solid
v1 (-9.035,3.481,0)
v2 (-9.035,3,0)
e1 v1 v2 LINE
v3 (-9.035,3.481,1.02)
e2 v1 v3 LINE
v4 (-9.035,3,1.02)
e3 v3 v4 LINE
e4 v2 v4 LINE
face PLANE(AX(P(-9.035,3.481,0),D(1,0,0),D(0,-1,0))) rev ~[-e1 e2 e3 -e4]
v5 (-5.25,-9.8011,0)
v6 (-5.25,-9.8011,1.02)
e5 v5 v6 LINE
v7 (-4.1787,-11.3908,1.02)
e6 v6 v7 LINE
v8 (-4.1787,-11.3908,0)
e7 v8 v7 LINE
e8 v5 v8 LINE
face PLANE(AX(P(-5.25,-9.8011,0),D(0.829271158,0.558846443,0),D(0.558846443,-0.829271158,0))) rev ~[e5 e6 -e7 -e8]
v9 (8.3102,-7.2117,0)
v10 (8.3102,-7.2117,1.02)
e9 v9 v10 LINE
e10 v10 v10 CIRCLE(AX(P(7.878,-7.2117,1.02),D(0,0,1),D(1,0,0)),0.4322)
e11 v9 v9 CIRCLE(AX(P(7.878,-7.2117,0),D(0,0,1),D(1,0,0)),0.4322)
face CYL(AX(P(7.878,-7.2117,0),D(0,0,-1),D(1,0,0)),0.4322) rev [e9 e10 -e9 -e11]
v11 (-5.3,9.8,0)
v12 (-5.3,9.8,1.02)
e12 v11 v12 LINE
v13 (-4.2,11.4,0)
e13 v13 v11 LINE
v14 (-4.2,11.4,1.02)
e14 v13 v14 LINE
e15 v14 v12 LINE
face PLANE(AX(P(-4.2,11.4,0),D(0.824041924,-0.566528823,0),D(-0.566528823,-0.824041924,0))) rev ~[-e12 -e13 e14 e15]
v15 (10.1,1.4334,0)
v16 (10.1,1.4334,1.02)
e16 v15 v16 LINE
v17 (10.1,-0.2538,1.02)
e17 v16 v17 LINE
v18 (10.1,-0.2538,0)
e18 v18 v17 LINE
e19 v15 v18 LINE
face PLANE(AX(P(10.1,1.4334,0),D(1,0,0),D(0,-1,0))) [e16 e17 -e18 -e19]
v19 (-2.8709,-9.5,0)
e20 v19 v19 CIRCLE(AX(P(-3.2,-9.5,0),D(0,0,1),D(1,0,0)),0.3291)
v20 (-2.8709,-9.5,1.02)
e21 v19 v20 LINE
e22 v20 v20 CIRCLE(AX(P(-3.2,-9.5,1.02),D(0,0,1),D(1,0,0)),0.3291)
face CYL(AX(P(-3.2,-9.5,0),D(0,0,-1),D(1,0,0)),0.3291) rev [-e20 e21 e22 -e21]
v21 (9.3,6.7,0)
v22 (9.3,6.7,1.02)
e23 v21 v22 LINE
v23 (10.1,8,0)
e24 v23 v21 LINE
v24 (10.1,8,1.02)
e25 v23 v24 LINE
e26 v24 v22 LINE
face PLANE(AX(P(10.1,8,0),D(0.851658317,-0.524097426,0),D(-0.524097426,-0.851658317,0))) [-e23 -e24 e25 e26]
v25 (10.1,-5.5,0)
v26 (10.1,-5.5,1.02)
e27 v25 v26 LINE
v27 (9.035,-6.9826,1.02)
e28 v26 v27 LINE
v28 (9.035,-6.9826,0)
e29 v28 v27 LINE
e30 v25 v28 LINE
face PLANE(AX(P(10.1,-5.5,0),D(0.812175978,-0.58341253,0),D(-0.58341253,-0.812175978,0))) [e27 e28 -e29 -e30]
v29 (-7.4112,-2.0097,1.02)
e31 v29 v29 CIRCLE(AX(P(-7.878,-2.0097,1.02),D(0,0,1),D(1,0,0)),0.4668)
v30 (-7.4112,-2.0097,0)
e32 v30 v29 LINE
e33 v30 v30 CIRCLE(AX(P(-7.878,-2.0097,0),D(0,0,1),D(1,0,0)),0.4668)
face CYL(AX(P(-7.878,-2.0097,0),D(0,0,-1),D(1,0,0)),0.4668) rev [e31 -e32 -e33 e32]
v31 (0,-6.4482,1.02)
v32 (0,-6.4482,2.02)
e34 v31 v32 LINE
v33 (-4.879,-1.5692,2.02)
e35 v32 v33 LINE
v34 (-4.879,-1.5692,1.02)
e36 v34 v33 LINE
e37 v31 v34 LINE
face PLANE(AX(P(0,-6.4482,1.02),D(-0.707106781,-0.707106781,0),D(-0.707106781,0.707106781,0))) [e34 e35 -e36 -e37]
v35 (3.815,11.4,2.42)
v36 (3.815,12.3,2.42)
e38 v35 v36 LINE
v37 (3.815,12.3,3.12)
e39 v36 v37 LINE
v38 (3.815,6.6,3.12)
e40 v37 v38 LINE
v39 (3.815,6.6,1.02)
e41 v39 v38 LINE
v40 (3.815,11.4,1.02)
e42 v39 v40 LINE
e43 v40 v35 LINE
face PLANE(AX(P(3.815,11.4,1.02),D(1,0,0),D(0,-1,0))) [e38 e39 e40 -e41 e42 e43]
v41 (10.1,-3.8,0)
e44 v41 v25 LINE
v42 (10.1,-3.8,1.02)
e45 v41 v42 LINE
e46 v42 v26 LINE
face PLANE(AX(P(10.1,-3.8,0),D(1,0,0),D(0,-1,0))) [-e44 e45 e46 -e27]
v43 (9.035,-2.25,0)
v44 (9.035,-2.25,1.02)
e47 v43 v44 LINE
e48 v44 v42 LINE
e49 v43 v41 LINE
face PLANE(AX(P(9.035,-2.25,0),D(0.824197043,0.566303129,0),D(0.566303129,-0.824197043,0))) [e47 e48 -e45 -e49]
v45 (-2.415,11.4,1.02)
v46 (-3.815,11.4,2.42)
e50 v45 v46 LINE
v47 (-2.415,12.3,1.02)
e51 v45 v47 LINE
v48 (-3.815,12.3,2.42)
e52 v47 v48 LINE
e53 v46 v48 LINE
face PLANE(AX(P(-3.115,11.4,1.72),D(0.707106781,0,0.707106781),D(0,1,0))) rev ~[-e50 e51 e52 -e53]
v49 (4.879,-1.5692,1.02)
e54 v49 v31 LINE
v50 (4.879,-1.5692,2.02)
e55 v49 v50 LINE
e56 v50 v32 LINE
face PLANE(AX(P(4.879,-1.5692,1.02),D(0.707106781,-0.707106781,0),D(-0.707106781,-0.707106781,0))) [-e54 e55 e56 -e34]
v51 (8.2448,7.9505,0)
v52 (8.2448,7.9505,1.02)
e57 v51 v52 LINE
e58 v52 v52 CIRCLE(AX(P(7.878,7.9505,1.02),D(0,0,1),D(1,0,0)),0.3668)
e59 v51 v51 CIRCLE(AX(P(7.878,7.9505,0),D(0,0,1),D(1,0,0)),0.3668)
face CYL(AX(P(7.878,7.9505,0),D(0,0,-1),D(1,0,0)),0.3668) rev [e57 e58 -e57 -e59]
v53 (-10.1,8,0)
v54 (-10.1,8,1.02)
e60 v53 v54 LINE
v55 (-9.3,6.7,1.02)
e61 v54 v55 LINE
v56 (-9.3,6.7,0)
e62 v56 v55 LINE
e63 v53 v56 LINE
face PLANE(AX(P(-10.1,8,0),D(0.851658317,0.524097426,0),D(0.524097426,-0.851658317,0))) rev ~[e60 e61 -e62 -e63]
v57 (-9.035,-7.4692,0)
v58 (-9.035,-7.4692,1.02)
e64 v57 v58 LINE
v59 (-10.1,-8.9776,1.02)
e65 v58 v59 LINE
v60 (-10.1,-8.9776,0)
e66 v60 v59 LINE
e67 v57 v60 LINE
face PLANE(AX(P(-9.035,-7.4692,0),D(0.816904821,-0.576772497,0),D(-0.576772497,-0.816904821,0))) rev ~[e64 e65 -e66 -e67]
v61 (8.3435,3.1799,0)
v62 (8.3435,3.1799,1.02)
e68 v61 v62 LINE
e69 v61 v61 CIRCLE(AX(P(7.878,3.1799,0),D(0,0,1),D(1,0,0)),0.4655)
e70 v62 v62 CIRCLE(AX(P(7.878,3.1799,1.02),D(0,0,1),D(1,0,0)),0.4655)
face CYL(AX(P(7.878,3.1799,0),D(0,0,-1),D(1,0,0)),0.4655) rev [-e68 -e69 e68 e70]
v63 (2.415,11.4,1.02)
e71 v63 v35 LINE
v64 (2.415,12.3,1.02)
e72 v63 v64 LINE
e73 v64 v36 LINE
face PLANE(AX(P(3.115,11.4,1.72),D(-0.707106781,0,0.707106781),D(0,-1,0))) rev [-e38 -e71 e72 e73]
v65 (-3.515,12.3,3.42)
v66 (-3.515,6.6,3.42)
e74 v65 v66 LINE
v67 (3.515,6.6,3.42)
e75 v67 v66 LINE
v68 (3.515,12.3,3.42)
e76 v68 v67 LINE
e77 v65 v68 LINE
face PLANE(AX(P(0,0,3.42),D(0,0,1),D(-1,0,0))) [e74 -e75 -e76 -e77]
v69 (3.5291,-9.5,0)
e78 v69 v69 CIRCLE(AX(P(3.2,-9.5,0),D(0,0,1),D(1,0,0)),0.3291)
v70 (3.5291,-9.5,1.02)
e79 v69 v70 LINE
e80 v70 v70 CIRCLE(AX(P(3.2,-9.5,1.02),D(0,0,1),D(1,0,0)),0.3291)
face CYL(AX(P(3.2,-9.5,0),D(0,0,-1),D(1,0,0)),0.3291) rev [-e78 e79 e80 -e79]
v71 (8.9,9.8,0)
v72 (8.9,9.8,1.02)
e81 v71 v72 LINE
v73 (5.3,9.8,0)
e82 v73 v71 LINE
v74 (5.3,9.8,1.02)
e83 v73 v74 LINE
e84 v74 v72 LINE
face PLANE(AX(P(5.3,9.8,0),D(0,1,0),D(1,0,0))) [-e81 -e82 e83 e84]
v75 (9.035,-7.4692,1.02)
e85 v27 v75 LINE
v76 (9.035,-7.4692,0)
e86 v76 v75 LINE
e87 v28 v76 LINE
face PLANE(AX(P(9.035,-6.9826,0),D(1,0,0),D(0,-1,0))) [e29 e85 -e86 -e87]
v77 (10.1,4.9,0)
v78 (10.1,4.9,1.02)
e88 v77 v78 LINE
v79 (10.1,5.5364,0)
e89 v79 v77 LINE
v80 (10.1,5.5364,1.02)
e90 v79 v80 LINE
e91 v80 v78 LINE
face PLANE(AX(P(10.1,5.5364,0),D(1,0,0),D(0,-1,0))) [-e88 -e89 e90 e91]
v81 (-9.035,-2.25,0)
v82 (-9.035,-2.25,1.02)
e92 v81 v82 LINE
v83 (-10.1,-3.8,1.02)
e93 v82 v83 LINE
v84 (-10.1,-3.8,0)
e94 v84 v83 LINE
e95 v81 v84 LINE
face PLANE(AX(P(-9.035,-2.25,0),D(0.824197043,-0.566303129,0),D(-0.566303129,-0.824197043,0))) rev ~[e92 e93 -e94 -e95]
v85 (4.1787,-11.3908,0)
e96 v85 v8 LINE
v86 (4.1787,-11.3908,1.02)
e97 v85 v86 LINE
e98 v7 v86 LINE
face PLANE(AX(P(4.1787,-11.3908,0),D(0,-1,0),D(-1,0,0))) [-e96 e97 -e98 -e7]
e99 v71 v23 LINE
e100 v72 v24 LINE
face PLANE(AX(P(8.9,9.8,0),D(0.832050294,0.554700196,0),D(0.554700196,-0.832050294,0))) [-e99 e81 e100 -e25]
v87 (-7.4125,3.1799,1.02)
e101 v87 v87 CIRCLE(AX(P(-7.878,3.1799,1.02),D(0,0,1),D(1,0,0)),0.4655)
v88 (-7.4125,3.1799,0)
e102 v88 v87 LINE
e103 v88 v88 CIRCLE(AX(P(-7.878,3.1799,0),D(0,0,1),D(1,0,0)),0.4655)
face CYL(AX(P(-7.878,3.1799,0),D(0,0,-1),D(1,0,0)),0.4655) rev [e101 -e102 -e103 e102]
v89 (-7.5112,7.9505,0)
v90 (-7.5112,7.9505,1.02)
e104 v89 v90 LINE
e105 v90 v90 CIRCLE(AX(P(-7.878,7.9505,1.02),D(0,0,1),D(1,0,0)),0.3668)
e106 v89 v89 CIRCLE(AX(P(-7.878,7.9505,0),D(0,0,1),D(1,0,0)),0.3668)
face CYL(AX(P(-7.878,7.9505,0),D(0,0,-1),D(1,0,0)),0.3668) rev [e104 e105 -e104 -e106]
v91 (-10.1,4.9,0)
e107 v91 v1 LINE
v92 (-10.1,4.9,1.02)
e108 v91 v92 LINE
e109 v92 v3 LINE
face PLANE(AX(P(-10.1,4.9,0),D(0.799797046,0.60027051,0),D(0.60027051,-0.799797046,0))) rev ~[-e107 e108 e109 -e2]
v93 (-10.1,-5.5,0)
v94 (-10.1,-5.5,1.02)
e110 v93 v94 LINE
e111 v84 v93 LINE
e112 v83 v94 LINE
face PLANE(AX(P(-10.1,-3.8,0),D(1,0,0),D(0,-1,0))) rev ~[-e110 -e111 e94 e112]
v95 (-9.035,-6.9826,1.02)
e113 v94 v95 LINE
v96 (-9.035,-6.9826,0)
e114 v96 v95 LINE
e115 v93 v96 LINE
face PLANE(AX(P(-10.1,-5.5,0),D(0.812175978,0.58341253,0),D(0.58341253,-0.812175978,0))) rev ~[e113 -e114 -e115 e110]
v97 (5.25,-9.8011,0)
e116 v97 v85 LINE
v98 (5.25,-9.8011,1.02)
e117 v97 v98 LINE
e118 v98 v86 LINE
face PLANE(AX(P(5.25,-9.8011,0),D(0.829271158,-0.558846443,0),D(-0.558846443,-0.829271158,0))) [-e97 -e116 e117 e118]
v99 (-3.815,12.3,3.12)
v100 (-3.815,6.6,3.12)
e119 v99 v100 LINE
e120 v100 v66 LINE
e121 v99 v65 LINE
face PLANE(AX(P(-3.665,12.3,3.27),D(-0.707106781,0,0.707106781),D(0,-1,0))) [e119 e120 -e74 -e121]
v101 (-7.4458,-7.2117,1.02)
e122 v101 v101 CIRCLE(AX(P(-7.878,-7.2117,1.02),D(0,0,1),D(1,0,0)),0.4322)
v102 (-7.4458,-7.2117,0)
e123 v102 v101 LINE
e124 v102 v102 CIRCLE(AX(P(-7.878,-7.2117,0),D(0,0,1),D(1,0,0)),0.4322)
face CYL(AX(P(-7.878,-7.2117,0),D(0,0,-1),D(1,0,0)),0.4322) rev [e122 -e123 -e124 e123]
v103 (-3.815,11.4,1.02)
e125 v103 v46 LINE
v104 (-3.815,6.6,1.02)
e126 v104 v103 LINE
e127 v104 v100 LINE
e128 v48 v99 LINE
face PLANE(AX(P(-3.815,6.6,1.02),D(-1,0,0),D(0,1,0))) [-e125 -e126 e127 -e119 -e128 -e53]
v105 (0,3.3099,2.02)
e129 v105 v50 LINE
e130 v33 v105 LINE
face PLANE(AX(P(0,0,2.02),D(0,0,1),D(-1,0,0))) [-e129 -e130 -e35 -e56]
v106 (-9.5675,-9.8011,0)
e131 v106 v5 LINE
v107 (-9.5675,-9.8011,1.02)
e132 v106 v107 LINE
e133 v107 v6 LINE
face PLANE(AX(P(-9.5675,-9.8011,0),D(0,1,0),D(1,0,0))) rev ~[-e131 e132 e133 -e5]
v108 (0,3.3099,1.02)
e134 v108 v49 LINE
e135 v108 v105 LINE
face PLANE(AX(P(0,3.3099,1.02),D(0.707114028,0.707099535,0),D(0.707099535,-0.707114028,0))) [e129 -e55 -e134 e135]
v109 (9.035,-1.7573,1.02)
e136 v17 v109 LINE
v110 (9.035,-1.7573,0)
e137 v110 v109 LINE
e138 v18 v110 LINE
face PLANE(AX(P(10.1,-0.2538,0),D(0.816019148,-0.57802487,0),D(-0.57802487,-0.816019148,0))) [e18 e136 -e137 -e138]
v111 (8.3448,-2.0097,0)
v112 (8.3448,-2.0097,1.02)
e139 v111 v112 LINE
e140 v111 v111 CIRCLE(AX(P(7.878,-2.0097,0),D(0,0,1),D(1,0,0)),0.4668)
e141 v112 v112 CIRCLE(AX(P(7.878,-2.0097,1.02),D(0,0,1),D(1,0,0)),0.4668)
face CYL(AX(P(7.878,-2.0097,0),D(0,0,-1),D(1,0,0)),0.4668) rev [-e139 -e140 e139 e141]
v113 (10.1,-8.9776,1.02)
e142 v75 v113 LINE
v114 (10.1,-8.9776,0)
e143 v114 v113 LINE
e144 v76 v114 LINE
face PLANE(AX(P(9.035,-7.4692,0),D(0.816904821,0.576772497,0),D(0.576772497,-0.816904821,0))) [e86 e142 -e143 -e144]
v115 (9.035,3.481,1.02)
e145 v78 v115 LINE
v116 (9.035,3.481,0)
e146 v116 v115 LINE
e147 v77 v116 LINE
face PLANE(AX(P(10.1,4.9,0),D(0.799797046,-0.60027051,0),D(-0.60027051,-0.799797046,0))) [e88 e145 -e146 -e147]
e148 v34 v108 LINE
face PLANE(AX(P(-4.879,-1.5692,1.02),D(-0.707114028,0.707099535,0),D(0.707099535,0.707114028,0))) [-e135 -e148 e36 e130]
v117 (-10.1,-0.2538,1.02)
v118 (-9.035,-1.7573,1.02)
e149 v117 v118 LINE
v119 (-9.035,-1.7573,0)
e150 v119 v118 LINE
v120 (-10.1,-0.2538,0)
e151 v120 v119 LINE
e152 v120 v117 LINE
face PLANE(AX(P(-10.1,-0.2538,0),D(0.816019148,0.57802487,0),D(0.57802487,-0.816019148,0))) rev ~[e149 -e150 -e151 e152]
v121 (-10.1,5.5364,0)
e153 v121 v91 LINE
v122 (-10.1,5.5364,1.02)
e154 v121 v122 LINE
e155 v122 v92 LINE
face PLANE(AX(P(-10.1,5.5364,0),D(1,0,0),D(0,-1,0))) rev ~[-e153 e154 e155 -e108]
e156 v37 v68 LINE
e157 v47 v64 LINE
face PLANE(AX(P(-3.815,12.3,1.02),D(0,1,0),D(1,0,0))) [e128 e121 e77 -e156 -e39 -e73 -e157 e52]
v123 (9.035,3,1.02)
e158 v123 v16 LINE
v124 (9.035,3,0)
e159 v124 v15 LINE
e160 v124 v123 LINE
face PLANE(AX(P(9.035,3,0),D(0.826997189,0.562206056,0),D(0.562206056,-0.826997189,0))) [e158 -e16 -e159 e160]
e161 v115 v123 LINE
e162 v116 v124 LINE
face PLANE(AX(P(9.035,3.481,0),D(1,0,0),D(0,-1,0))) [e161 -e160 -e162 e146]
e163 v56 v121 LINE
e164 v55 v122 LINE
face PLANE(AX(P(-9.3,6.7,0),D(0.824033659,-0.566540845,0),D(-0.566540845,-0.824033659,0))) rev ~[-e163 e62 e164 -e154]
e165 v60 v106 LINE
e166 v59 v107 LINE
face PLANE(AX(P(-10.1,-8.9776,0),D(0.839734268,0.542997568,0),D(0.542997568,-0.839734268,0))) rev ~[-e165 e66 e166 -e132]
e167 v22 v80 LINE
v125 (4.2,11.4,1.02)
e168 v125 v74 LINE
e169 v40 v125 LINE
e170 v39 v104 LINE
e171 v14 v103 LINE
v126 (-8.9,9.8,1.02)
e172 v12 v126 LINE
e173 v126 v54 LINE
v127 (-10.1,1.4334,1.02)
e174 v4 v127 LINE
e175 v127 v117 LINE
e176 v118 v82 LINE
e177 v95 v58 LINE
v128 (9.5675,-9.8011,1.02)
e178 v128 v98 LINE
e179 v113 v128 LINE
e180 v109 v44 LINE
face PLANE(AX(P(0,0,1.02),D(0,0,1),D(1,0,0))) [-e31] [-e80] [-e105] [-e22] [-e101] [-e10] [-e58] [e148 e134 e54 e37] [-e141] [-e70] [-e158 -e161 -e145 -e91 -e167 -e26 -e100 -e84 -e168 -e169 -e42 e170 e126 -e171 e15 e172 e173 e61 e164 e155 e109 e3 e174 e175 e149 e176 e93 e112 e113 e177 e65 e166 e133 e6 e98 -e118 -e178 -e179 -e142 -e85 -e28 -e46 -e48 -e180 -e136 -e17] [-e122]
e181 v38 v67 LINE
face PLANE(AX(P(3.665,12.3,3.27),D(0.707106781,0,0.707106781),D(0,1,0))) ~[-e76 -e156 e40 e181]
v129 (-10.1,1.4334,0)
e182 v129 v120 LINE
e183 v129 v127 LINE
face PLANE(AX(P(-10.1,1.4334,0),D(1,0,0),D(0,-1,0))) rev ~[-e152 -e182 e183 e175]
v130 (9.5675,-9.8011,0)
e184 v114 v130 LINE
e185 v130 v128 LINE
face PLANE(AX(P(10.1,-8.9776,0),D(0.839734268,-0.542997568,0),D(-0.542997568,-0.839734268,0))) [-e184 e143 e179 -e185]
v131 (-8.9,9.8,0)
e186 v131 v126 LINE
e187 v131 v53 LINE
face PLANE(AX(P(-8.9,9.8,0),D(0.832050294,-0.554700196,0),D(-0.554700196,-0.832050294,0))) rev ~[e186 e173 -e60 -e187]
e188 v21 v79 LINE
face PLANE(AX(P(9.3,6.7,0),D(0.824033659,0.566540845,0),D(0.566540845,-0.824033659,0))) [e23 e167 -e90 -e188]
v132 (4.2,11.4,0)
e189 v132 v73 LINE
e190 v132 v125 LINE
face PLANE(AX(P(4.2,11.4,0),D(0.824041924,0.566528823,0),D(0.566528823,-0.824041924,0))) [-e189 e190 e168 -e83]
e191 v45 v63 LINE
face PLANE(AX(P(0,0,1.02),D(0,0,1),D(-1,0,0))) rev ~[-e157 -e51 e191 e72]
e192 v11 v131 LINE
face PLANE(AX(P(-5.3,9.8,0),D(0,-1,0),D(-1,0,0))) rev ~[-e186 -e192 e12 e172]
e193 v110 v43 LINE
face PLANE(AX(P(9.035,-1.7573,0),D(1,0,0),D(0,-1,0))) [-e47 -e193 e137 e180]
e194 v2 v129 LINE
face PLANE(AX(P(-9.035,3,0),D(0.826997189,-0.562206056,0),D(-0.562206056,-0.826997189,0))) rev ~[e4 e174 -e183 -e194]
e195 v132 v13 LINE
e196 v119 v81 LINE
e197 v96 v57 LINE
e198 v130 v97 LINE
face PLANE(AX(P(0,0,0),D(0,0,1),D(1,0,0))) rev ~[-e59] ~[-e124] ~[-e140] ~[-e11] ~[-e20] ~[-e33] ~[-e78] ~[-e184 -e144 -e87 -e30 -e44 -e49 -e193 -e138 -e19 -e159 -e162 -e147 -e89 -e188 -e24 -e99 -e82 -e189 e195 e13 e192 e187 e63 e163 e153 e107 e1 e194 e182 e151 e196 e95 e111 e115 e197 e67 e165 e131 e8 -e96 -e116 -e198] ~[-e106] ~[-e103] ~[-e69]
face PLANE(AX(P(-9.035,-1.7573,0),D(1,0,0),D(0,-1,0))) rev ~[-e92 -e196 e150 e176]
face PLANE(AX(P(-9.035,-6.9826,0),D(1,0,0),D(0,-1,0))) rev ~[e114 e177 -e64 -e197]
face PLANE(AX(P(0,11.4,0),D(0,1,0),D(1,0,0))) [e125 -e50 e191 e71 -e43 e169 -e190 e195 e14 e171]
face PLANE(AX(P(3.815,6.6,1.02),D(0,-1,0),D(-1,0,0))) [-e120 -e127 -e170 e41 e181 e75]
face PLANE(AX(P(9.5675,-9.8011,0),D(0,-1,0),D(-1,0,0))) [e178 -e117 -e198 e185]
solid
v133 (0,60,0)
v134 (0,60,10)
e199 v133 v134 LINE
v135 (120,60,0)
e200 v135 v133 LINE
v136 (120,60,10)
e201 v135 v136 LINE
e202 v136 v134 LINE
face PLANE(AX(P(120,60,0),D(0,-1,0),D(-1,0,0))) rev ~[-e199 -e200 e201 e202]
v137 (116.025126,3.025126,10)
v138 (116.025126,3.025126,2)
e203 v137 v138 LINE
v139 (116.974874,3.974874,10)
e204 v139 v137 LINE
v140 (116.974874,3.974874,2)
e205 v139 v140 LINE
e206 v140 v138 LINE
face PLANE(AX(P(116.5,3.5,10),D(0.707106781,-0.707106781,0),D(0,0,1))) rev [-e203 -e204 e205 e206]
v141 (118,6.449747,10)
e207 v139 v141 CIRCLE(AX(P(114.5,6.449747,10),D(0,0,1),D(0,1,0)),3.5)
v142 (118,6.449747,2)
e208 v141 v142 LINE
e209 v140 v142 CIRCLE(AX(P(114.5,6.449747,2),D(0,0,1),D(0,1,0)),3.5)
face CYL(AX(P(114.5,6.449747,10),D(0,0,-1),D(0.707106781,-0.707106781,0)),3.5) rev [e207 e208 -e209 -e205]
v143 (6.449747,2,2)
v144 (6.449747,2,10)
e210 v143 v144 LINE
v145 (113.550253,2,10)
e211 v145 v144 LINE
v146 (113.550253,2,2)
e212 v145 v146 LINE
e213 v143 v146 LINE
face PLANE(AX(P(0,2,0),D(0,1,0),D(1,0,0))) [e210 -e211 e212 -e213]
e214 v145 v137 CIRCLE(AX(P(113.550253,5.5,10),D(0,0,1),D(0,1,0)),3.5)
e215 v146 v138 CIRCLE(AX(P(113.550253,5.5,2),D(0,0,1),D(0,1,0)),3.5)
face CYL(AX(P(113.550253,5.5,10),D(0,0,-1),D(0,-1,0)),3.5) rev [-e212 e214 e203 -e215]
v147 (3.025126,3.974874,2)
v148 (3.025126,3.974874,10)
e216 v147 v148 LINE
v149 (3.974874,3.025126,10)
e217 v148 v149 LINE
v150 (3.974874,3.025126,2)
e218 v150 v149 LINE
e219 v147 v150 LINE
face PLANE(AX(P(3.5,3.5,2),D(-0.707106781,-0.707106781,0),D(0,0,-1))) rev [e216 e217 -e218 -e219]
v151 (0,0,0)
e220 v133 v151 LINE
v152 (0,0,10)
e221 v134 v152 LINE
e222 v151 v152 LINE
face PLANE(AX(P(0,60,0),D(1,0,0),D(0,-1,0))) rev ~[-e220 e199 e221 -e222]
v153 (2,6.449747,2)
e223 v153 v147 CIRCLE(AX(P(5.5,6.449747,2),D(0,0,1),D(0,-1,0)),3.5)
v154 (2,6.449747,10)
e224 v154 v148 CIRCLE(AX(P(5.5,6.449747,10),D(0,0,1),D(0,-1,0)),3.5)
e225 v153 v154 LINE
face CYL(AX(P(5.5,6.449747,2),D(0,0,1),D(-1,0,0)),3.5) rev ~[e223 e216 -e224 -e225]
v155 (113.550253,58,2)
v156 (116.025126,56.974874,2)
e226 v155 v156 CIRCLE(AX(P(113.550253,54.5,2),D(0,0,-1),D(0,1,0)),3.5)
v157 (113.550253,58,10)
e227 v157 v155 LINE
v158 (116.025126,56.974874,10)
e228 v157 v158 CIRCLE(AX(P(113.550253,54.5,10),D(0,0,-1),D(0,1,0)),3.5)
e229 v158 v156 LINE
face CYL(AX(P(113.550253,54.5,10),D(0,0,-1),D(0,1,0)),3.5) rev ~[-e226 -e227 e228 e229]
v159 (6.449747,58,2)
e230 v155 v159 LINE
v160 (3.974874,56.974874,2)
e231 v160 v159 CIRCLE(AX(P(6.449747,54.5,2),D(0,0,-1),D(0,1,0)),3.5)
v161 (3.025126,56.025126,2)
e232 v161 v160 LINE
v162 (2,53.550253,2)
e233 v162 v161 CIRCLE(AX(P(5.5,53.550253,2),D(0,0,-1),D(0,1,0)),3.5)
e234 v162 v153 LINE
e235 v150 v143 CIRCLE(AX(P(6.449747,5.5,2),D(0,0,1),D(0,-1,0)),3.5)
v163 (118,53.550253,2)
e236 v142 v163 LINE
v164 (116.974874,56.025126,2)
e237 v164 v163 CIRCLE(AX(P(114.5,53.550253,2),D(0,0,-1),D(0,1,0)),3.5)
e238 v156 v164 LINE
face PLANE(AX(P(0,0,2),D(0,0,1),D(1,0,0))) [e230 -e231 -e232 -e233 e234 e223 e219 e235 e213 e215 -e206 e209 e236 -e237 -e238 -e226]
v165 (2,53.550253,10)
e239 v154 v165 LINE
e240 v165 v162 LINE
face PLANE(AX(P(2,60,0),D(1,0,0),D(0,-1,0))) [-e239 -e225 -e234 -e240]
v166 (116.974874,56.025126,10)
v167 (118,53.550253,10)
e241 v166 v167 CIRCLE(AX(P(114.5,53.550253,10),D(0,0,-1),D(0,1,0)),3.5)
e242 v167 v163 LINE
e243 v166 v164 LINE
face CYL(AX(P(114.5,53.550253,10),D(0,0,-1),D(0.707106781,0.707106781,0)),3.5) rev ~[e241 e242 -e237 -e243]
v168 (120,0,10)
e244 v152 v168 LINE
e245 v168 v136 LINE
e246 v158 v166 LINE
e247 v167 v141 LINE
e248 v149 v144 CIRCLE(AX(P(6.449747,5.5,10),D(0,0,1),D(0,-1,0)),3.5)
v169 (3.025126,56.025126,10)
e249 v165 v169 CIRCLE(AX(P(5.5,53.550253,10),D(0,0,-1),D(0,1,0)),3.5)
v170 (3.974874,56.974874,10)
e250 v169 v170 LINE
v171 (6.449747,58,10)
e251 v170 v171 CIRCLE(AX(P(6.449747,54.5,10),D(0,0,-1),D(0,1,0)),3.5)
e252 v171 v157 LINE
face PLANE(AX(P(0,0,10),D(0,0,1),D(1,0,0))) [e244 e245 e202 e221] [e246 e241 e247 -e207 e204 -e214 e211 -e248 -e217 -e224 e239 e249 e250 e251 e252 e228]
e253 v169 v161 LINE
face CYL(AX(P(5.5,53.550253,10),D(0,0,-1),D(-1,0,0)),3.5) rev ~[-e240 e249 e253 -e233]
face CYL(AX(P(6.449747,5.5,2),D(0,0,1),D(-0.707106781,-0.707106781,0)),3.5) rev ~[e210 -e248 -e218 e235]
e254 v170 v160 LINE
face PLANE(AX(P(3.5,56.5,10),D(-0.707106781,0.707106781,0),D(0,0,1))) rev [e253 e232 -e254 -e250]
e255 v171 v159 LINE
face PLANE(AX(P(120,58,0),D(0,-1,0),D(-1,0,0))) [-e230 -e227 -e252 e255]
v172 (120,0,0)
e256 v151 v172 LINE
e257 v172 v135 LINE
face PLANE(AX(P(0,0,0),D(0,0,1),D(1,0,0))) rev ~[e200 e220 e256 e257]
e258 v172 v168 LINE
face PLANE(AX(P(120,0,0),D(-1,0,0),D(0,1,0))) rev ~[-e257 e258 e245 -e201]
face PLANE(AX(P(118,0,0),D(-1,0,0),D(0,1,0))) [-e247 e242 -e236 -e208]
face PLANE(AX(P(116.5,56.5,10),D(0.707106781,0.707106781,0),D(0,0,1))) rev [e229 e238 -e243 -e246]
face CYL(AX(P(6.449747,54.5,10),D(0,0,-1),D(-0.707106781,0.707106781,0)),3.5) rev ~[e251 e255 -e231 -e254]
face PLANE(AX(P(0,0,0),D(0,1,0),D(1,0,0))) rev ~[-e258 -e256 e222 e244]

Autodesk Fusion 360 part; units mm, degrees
sketch "Sketch1" plane through (0, 0, 0) normal (0, 0, 1) x (1, 0, 0)
  line L0 (0, 0) -> (120, 0)
  line L1 (120, 0) -> (120, 60)
  line L2 (120, 60) -> (0, 60)
  line L3 (0, 60) -> (0, 0)
  dimension "d1" = 120
  dimension "d2" = 60
extrude "Extrude1" add sketch "Sketch1" along normal blind 10 makes body 1
shell "Shell1" thickness 2 removed faces 1 at (40, 20, 10) on bodies 1
chamfer "Chamfer1" distance 3 angle 45 4 edges at (2, 58, 6) (118, 58, 6) (2, 2, 6) (118, 2, 6) on bodies 1
fillet "Fillet1" radius 3.5 8 edges at (2, 5, 6) (5, 2, 6) (115, 2, 6) (118, 5, 6) (118, 55, 6) (115, 58, 6) (5, 58, 6) (2, 55, 6) on bodies 1
sketch "Sketch1 (2)" plane through (0, 0, 0) normal (0, 0, 1) x (1, 0, 0) in component "beetle_board"
  line L0 (0, 11.4) -> (4.2, 11.4)
  line L1 (4.2, 11.4) -> (5.3, 9.8)
  line L2 (5.3, 9.8) -> (8.9, 9.8)
  line L3 (8.9, 9.8) -> (10.1, 8)
  line L4 (10.1, 8) -> (9.3, 6.7)
  line L5 (9.3, 6.7) -> (10.1, 5.5364)
  line L6 (10.1, 5.5364) -> (10.1, 4.9)
  line L7 (10.1, 4.9) -> (9.035, 3.481)
  line L8 (9.035, 3.481) -> (9.035, 3)
  line L9 (9.035, 3) -> (10.1, 1.4334)
  line L10 (10.1, 1.4334) -> (10.1, -0.2538)
  line L11 (10.1, -0.2538) -> (9.035, -1.7573)
  line L12 (9.035, -1.7573) -> (9.035, -2.25)
  line L13 (9.035, -2.25) -> (10.1, -3.8)
  line L14 (10.1, -3.8) -> (10.1, -5.5)
  line L15 (10.1, -5.5) -> (9.035, -6.9826)
  line L16 (9.035, -6.9826) -> (9.035, -7.4692)
  line L17 (9.035, -7.4692) -> (10.1, -8.9776)
  line L18 (10.1, -8.9776) -> (9.5675, -9.8011)
  line L19 (9.5675, -9.8011) -> (5.25, -9.8011)
  line L20 (5.25, -9.8011) -> (4.1787, -11.3908)
  line L21 (4.1787, -11.3908) -> (0, -11.3908)
  circle A0 centre (7.878, 7.9505) radius 0.3668
  circle A1 centre (7.878, 3.1799) radius 0.4655
  circle A2 centre (7.878, -2.0097) radius 0.4668
  circle A3 centre (7.878, -7.2117) radius 0.4322
  circle A4 centre (3.2, -9.5) radius 0.3291
  line L22 (0, 15) -> (0, -15) construction
  line L23 (-10.1, 1.4334) -> (-10.1, -0.2538)
  line L24 (-10.1, -3.8) -> (-10.1, -5.5)
  line L25 (-10.1, -0.2538) -> (-9.035, -1.7573)
  line L26 (-9.035, -6.9826) -> (-9.035, -7.4692)
  line L27 (-5.3, 9.8) -> (-8.9, 9.8)
  line L28 (-9.035, -1.7573) -> (-9.035, -2.25)
  circle A5 centre (-7.878, -7.2117) radius 0.4322
  line L29 (-9.035, -7.4692) -> (-10.1, -8.9776)
  line L30 (-9.035, -2.25) -> (-10.1, -3.8)
  line L31 (-10.1, -8.9776) -> (-9.5675, -9.8011)
  circle A6 centre (-7.878, 7.9505) radius 0.3668
  line L32 (-10.1, 8) -> (-9.3, 6.7)
  line L33 (0, 11.4) -> (-4.2, 11.4)
  line L34 (-10.1, 5.5364) -> (-10.1, 4.9)
  line L35 (-9.035, 3.481) -> (-9.035, 3)
  line L36 (-4.1787, -11.3908) -> (0, -11.3908)
  line L37 (-9.035, 3) -> (-10.1, 1.4334)
  line L38 (-4.2, 11.4) -> (-5.3, 9.8)
  line L39 (-10.1, 4.9) -> (-9.035, 3.481)
  line L40 (-8.9, 9.8) -> (-10.1, 8)
  line L41 (-9.5675, -9.8011) -> (-5.25, -9.8011)
  line L42 (-10.1, -5.5) -> (-9.035, -6.9826)
  circle A7 centre (-7.878, 3.1799) radius 0.4655
  line L43 (-9.3, 6.7) -> (-10.1, 5.5364)
  line L44 (-5.25, -9.8011) -> (-4.1787, -11.3908)
  circle A8 centre (-3.2, -9.5) radius 0.3291
  circle A9 centre (-7.878, -2.0097) radius 0.4668
extrude "Extrude1'" add sketch "Sketch1 (2)" along normal blind 1.02 separate body makes body 2 in component "beetle_board"
sketch "Sketch2" plane through (0, 0, 1.02) normal (0, 0, 1) x (-1, 0, 0) in component "beetle_board"
  circle A0 centre (-7.878, -7.9505) radius 0.3668
  circle A1 centre (7.878, 2.0097) radius 0.4668
  circle A2 centre (3.2, 9.5) radius 0.3291
  circle A3 centre (7.878, -3.1799) radius 0.4655
  circle A4 centre (7.878, -7.9505) radius 0.3668
  circle A5 centre (7.878, 7.2117) radius 0.4322
  circle A6 centre (-3.2, 9.5) radius 0.3291
  circle A7 centre (-7.878, 7.2117) radius 0.4322
  circle A8 centre (-7.878, 2.0097) radius 0.4668
  circle A9 centre (-7.878, -3.1799) radius 0.4655
  line L0 (-4.2, -11.4) -> (4.2, -11.4)
  line L1 (4.2, -11.4) -> (5.3, -9.8)
  line L2 (5.3, -9.8) -> (8.9, -9.8)
  line L3 (8.9, -9.8) -> (10.1, -8)
  line L4 (10.1, -8) -> (9.3, -6.7)
  line L5 (9.3, -6.7) -> (10.1, -5.5364)
  line L6 (10.1, -5.5364) -> (10.1, -4.9)
  line L7 (10.1, -4.9) -> (9.035, -3.481)
  line L8 (9.035, -3.481) -> (9.035, -3)
  line L9 (9.035, -3) -> (10.1, -1.4334)
  line L10 (10.1, -1.4334) -> (10.1, 0.2538)
  line L11 (10.1, 0.2538) -> (9.035, 1.7573)
  line L12 (9.035, 1.7573) -> (9.035, 2.25)
  line L13 (9.035, 2.25) -> (10.1, 3.8)
  line L14 (10.1, 3.8) -> (10.1, 5.5)
  line L15 (10.1, 5.5) -> (9.035, 6.9826)
  line L16 (9.035, 6.9826) -> (9.035, 7.4692)
  line L17 (9.035, 7.4692) -> (10.1, 8.9776)
  line L18 (10.1, 8.9776) -> (9.5675, 9.8011)
  line L19 (9.5675, 9.8011) -> (5.25, 9.8011)
  line L20 (5.25, 9.8011) -> (4.1787, 11.3908)
  line L21 (4.1787, 11.3908) -> (-4.1787, 11.3908)
  line L22 (-4.1787, 11.3908) -> (-5.25, 9.8011)
  line L23 (-5.25, 9.8011) -> (-9.5675, 9.8011)
  line L24 (-9.5675, 9.8011) -> (-10.1, 8.9776)
  line L25 (-10.1, 8.9776) -> (-9.035, 7.4692)
  line L26 (-9.035, 7.4692) -> (-9.035, 6.9826)
  line L27 (-9.035, 6.9826) -> (-10.1, 5.5)
  line L28 (-10.1, 5.5) -> (-10.1, 3.8)
  line L29 (-10.1, 3.8) -> (-9.035, 2.25)
  line L30 (-9.035, 2.25) -> (-9.035, 1.7573)
  line L31 (-9.035, 1.7573) -> (-10.1, 0.2538)
  line L32 (-10.1, 0.2538) -> (-10.1, -1.4334)
  line L33 (-10.1, -1.4334) -> (-9.035, -3)
  line L34 (-9.035, -3) -> (-9.035, -3.481)
  line L35 (-9.035, -3.481) -> (-10.1, -4.9)
  line L36 (-10.1, -4.9) -> (-10.1, -5.5364)
  line L37 (-10.1, -5.5364) -> (-9.3, -6.7)
  line L38 (-9.3, -6.7) -> (-10.1, -8)
  line L39 (-10.1, -8) -> (-8.9, -9.8)
  line L40 (-8.9, -9.8) -> (-5.3, -9.8)
  line L41 (-5.3, -9.8) -> (-4.2, -11.4)
  line L42 (-3.815, -6.6) -> (3.815, -6.6)
  line L43 (3.815, -6.6) -> (3.815, -12.3)
  line L44 (3.815, -12.3) -> (-3.815, -12.3)
  line L45 (-3.815, -12.3) -> (-3.815, -6.6)
  line L46 (-3.815, -6.6) -> (3.815, -12.3) construction
  line L47 (3.815, -6.6) -> (-3.815, -12.3) construction
  line L48 (-4.879, 1.5692) -> (0, 6.4482)
  line L49 (0, 6.4482) -> (4.879, 1.5692)
  line L50 (4.879, 1.5692) -> (0, -3.3099)
  line L51 (0, -3.3099) -> (-4.879, 1.5692)
  line L52 (-4.879, 1.5692) -> (4.879, 1.5692) construction
  line L53 (0, 6.4482) -> (0, -3.3099) construction
  point P0 (0, -9.45)
  point P1 (0, 1.5692)
  dimension "d80" = 7.63
  dimension "d81" = 5.7
  dimension "d82" = 0.9
  dimension "d85" = 6.9
  dimension "d86" = 6.9
extrude "Extrude2" add sketch "Sketch2" along normal blind 1 contours L48 L49 L50 L51 bodies 2 in component "beetle_board"
extrude "Extrude3" add sketch "Sketch2" along normal blind 2.4 contours L0 L42 L43 L45 | L0 L43 L44 L45 bodies 2 in component "beetle_board"
chamfer "Chamfer1'" distance 1.4 angle 45 2 edges at (3.815, 11.85, 1.02) (-3.815, 11.85, 1.02) on bodies 2 in component "beetle_board"
chamfer "Chamfer2" distance 0.3 angle 45 2 edges at (3.815, 9.45, 3.42) (-3.815, 9.45, 3.42) on bodies 2 in component "beetle_board"
component "beetle_board" placed x (1, 0, 0) y (0, 1, 0) z (0, 0, 1) at (0, 0, 0)
